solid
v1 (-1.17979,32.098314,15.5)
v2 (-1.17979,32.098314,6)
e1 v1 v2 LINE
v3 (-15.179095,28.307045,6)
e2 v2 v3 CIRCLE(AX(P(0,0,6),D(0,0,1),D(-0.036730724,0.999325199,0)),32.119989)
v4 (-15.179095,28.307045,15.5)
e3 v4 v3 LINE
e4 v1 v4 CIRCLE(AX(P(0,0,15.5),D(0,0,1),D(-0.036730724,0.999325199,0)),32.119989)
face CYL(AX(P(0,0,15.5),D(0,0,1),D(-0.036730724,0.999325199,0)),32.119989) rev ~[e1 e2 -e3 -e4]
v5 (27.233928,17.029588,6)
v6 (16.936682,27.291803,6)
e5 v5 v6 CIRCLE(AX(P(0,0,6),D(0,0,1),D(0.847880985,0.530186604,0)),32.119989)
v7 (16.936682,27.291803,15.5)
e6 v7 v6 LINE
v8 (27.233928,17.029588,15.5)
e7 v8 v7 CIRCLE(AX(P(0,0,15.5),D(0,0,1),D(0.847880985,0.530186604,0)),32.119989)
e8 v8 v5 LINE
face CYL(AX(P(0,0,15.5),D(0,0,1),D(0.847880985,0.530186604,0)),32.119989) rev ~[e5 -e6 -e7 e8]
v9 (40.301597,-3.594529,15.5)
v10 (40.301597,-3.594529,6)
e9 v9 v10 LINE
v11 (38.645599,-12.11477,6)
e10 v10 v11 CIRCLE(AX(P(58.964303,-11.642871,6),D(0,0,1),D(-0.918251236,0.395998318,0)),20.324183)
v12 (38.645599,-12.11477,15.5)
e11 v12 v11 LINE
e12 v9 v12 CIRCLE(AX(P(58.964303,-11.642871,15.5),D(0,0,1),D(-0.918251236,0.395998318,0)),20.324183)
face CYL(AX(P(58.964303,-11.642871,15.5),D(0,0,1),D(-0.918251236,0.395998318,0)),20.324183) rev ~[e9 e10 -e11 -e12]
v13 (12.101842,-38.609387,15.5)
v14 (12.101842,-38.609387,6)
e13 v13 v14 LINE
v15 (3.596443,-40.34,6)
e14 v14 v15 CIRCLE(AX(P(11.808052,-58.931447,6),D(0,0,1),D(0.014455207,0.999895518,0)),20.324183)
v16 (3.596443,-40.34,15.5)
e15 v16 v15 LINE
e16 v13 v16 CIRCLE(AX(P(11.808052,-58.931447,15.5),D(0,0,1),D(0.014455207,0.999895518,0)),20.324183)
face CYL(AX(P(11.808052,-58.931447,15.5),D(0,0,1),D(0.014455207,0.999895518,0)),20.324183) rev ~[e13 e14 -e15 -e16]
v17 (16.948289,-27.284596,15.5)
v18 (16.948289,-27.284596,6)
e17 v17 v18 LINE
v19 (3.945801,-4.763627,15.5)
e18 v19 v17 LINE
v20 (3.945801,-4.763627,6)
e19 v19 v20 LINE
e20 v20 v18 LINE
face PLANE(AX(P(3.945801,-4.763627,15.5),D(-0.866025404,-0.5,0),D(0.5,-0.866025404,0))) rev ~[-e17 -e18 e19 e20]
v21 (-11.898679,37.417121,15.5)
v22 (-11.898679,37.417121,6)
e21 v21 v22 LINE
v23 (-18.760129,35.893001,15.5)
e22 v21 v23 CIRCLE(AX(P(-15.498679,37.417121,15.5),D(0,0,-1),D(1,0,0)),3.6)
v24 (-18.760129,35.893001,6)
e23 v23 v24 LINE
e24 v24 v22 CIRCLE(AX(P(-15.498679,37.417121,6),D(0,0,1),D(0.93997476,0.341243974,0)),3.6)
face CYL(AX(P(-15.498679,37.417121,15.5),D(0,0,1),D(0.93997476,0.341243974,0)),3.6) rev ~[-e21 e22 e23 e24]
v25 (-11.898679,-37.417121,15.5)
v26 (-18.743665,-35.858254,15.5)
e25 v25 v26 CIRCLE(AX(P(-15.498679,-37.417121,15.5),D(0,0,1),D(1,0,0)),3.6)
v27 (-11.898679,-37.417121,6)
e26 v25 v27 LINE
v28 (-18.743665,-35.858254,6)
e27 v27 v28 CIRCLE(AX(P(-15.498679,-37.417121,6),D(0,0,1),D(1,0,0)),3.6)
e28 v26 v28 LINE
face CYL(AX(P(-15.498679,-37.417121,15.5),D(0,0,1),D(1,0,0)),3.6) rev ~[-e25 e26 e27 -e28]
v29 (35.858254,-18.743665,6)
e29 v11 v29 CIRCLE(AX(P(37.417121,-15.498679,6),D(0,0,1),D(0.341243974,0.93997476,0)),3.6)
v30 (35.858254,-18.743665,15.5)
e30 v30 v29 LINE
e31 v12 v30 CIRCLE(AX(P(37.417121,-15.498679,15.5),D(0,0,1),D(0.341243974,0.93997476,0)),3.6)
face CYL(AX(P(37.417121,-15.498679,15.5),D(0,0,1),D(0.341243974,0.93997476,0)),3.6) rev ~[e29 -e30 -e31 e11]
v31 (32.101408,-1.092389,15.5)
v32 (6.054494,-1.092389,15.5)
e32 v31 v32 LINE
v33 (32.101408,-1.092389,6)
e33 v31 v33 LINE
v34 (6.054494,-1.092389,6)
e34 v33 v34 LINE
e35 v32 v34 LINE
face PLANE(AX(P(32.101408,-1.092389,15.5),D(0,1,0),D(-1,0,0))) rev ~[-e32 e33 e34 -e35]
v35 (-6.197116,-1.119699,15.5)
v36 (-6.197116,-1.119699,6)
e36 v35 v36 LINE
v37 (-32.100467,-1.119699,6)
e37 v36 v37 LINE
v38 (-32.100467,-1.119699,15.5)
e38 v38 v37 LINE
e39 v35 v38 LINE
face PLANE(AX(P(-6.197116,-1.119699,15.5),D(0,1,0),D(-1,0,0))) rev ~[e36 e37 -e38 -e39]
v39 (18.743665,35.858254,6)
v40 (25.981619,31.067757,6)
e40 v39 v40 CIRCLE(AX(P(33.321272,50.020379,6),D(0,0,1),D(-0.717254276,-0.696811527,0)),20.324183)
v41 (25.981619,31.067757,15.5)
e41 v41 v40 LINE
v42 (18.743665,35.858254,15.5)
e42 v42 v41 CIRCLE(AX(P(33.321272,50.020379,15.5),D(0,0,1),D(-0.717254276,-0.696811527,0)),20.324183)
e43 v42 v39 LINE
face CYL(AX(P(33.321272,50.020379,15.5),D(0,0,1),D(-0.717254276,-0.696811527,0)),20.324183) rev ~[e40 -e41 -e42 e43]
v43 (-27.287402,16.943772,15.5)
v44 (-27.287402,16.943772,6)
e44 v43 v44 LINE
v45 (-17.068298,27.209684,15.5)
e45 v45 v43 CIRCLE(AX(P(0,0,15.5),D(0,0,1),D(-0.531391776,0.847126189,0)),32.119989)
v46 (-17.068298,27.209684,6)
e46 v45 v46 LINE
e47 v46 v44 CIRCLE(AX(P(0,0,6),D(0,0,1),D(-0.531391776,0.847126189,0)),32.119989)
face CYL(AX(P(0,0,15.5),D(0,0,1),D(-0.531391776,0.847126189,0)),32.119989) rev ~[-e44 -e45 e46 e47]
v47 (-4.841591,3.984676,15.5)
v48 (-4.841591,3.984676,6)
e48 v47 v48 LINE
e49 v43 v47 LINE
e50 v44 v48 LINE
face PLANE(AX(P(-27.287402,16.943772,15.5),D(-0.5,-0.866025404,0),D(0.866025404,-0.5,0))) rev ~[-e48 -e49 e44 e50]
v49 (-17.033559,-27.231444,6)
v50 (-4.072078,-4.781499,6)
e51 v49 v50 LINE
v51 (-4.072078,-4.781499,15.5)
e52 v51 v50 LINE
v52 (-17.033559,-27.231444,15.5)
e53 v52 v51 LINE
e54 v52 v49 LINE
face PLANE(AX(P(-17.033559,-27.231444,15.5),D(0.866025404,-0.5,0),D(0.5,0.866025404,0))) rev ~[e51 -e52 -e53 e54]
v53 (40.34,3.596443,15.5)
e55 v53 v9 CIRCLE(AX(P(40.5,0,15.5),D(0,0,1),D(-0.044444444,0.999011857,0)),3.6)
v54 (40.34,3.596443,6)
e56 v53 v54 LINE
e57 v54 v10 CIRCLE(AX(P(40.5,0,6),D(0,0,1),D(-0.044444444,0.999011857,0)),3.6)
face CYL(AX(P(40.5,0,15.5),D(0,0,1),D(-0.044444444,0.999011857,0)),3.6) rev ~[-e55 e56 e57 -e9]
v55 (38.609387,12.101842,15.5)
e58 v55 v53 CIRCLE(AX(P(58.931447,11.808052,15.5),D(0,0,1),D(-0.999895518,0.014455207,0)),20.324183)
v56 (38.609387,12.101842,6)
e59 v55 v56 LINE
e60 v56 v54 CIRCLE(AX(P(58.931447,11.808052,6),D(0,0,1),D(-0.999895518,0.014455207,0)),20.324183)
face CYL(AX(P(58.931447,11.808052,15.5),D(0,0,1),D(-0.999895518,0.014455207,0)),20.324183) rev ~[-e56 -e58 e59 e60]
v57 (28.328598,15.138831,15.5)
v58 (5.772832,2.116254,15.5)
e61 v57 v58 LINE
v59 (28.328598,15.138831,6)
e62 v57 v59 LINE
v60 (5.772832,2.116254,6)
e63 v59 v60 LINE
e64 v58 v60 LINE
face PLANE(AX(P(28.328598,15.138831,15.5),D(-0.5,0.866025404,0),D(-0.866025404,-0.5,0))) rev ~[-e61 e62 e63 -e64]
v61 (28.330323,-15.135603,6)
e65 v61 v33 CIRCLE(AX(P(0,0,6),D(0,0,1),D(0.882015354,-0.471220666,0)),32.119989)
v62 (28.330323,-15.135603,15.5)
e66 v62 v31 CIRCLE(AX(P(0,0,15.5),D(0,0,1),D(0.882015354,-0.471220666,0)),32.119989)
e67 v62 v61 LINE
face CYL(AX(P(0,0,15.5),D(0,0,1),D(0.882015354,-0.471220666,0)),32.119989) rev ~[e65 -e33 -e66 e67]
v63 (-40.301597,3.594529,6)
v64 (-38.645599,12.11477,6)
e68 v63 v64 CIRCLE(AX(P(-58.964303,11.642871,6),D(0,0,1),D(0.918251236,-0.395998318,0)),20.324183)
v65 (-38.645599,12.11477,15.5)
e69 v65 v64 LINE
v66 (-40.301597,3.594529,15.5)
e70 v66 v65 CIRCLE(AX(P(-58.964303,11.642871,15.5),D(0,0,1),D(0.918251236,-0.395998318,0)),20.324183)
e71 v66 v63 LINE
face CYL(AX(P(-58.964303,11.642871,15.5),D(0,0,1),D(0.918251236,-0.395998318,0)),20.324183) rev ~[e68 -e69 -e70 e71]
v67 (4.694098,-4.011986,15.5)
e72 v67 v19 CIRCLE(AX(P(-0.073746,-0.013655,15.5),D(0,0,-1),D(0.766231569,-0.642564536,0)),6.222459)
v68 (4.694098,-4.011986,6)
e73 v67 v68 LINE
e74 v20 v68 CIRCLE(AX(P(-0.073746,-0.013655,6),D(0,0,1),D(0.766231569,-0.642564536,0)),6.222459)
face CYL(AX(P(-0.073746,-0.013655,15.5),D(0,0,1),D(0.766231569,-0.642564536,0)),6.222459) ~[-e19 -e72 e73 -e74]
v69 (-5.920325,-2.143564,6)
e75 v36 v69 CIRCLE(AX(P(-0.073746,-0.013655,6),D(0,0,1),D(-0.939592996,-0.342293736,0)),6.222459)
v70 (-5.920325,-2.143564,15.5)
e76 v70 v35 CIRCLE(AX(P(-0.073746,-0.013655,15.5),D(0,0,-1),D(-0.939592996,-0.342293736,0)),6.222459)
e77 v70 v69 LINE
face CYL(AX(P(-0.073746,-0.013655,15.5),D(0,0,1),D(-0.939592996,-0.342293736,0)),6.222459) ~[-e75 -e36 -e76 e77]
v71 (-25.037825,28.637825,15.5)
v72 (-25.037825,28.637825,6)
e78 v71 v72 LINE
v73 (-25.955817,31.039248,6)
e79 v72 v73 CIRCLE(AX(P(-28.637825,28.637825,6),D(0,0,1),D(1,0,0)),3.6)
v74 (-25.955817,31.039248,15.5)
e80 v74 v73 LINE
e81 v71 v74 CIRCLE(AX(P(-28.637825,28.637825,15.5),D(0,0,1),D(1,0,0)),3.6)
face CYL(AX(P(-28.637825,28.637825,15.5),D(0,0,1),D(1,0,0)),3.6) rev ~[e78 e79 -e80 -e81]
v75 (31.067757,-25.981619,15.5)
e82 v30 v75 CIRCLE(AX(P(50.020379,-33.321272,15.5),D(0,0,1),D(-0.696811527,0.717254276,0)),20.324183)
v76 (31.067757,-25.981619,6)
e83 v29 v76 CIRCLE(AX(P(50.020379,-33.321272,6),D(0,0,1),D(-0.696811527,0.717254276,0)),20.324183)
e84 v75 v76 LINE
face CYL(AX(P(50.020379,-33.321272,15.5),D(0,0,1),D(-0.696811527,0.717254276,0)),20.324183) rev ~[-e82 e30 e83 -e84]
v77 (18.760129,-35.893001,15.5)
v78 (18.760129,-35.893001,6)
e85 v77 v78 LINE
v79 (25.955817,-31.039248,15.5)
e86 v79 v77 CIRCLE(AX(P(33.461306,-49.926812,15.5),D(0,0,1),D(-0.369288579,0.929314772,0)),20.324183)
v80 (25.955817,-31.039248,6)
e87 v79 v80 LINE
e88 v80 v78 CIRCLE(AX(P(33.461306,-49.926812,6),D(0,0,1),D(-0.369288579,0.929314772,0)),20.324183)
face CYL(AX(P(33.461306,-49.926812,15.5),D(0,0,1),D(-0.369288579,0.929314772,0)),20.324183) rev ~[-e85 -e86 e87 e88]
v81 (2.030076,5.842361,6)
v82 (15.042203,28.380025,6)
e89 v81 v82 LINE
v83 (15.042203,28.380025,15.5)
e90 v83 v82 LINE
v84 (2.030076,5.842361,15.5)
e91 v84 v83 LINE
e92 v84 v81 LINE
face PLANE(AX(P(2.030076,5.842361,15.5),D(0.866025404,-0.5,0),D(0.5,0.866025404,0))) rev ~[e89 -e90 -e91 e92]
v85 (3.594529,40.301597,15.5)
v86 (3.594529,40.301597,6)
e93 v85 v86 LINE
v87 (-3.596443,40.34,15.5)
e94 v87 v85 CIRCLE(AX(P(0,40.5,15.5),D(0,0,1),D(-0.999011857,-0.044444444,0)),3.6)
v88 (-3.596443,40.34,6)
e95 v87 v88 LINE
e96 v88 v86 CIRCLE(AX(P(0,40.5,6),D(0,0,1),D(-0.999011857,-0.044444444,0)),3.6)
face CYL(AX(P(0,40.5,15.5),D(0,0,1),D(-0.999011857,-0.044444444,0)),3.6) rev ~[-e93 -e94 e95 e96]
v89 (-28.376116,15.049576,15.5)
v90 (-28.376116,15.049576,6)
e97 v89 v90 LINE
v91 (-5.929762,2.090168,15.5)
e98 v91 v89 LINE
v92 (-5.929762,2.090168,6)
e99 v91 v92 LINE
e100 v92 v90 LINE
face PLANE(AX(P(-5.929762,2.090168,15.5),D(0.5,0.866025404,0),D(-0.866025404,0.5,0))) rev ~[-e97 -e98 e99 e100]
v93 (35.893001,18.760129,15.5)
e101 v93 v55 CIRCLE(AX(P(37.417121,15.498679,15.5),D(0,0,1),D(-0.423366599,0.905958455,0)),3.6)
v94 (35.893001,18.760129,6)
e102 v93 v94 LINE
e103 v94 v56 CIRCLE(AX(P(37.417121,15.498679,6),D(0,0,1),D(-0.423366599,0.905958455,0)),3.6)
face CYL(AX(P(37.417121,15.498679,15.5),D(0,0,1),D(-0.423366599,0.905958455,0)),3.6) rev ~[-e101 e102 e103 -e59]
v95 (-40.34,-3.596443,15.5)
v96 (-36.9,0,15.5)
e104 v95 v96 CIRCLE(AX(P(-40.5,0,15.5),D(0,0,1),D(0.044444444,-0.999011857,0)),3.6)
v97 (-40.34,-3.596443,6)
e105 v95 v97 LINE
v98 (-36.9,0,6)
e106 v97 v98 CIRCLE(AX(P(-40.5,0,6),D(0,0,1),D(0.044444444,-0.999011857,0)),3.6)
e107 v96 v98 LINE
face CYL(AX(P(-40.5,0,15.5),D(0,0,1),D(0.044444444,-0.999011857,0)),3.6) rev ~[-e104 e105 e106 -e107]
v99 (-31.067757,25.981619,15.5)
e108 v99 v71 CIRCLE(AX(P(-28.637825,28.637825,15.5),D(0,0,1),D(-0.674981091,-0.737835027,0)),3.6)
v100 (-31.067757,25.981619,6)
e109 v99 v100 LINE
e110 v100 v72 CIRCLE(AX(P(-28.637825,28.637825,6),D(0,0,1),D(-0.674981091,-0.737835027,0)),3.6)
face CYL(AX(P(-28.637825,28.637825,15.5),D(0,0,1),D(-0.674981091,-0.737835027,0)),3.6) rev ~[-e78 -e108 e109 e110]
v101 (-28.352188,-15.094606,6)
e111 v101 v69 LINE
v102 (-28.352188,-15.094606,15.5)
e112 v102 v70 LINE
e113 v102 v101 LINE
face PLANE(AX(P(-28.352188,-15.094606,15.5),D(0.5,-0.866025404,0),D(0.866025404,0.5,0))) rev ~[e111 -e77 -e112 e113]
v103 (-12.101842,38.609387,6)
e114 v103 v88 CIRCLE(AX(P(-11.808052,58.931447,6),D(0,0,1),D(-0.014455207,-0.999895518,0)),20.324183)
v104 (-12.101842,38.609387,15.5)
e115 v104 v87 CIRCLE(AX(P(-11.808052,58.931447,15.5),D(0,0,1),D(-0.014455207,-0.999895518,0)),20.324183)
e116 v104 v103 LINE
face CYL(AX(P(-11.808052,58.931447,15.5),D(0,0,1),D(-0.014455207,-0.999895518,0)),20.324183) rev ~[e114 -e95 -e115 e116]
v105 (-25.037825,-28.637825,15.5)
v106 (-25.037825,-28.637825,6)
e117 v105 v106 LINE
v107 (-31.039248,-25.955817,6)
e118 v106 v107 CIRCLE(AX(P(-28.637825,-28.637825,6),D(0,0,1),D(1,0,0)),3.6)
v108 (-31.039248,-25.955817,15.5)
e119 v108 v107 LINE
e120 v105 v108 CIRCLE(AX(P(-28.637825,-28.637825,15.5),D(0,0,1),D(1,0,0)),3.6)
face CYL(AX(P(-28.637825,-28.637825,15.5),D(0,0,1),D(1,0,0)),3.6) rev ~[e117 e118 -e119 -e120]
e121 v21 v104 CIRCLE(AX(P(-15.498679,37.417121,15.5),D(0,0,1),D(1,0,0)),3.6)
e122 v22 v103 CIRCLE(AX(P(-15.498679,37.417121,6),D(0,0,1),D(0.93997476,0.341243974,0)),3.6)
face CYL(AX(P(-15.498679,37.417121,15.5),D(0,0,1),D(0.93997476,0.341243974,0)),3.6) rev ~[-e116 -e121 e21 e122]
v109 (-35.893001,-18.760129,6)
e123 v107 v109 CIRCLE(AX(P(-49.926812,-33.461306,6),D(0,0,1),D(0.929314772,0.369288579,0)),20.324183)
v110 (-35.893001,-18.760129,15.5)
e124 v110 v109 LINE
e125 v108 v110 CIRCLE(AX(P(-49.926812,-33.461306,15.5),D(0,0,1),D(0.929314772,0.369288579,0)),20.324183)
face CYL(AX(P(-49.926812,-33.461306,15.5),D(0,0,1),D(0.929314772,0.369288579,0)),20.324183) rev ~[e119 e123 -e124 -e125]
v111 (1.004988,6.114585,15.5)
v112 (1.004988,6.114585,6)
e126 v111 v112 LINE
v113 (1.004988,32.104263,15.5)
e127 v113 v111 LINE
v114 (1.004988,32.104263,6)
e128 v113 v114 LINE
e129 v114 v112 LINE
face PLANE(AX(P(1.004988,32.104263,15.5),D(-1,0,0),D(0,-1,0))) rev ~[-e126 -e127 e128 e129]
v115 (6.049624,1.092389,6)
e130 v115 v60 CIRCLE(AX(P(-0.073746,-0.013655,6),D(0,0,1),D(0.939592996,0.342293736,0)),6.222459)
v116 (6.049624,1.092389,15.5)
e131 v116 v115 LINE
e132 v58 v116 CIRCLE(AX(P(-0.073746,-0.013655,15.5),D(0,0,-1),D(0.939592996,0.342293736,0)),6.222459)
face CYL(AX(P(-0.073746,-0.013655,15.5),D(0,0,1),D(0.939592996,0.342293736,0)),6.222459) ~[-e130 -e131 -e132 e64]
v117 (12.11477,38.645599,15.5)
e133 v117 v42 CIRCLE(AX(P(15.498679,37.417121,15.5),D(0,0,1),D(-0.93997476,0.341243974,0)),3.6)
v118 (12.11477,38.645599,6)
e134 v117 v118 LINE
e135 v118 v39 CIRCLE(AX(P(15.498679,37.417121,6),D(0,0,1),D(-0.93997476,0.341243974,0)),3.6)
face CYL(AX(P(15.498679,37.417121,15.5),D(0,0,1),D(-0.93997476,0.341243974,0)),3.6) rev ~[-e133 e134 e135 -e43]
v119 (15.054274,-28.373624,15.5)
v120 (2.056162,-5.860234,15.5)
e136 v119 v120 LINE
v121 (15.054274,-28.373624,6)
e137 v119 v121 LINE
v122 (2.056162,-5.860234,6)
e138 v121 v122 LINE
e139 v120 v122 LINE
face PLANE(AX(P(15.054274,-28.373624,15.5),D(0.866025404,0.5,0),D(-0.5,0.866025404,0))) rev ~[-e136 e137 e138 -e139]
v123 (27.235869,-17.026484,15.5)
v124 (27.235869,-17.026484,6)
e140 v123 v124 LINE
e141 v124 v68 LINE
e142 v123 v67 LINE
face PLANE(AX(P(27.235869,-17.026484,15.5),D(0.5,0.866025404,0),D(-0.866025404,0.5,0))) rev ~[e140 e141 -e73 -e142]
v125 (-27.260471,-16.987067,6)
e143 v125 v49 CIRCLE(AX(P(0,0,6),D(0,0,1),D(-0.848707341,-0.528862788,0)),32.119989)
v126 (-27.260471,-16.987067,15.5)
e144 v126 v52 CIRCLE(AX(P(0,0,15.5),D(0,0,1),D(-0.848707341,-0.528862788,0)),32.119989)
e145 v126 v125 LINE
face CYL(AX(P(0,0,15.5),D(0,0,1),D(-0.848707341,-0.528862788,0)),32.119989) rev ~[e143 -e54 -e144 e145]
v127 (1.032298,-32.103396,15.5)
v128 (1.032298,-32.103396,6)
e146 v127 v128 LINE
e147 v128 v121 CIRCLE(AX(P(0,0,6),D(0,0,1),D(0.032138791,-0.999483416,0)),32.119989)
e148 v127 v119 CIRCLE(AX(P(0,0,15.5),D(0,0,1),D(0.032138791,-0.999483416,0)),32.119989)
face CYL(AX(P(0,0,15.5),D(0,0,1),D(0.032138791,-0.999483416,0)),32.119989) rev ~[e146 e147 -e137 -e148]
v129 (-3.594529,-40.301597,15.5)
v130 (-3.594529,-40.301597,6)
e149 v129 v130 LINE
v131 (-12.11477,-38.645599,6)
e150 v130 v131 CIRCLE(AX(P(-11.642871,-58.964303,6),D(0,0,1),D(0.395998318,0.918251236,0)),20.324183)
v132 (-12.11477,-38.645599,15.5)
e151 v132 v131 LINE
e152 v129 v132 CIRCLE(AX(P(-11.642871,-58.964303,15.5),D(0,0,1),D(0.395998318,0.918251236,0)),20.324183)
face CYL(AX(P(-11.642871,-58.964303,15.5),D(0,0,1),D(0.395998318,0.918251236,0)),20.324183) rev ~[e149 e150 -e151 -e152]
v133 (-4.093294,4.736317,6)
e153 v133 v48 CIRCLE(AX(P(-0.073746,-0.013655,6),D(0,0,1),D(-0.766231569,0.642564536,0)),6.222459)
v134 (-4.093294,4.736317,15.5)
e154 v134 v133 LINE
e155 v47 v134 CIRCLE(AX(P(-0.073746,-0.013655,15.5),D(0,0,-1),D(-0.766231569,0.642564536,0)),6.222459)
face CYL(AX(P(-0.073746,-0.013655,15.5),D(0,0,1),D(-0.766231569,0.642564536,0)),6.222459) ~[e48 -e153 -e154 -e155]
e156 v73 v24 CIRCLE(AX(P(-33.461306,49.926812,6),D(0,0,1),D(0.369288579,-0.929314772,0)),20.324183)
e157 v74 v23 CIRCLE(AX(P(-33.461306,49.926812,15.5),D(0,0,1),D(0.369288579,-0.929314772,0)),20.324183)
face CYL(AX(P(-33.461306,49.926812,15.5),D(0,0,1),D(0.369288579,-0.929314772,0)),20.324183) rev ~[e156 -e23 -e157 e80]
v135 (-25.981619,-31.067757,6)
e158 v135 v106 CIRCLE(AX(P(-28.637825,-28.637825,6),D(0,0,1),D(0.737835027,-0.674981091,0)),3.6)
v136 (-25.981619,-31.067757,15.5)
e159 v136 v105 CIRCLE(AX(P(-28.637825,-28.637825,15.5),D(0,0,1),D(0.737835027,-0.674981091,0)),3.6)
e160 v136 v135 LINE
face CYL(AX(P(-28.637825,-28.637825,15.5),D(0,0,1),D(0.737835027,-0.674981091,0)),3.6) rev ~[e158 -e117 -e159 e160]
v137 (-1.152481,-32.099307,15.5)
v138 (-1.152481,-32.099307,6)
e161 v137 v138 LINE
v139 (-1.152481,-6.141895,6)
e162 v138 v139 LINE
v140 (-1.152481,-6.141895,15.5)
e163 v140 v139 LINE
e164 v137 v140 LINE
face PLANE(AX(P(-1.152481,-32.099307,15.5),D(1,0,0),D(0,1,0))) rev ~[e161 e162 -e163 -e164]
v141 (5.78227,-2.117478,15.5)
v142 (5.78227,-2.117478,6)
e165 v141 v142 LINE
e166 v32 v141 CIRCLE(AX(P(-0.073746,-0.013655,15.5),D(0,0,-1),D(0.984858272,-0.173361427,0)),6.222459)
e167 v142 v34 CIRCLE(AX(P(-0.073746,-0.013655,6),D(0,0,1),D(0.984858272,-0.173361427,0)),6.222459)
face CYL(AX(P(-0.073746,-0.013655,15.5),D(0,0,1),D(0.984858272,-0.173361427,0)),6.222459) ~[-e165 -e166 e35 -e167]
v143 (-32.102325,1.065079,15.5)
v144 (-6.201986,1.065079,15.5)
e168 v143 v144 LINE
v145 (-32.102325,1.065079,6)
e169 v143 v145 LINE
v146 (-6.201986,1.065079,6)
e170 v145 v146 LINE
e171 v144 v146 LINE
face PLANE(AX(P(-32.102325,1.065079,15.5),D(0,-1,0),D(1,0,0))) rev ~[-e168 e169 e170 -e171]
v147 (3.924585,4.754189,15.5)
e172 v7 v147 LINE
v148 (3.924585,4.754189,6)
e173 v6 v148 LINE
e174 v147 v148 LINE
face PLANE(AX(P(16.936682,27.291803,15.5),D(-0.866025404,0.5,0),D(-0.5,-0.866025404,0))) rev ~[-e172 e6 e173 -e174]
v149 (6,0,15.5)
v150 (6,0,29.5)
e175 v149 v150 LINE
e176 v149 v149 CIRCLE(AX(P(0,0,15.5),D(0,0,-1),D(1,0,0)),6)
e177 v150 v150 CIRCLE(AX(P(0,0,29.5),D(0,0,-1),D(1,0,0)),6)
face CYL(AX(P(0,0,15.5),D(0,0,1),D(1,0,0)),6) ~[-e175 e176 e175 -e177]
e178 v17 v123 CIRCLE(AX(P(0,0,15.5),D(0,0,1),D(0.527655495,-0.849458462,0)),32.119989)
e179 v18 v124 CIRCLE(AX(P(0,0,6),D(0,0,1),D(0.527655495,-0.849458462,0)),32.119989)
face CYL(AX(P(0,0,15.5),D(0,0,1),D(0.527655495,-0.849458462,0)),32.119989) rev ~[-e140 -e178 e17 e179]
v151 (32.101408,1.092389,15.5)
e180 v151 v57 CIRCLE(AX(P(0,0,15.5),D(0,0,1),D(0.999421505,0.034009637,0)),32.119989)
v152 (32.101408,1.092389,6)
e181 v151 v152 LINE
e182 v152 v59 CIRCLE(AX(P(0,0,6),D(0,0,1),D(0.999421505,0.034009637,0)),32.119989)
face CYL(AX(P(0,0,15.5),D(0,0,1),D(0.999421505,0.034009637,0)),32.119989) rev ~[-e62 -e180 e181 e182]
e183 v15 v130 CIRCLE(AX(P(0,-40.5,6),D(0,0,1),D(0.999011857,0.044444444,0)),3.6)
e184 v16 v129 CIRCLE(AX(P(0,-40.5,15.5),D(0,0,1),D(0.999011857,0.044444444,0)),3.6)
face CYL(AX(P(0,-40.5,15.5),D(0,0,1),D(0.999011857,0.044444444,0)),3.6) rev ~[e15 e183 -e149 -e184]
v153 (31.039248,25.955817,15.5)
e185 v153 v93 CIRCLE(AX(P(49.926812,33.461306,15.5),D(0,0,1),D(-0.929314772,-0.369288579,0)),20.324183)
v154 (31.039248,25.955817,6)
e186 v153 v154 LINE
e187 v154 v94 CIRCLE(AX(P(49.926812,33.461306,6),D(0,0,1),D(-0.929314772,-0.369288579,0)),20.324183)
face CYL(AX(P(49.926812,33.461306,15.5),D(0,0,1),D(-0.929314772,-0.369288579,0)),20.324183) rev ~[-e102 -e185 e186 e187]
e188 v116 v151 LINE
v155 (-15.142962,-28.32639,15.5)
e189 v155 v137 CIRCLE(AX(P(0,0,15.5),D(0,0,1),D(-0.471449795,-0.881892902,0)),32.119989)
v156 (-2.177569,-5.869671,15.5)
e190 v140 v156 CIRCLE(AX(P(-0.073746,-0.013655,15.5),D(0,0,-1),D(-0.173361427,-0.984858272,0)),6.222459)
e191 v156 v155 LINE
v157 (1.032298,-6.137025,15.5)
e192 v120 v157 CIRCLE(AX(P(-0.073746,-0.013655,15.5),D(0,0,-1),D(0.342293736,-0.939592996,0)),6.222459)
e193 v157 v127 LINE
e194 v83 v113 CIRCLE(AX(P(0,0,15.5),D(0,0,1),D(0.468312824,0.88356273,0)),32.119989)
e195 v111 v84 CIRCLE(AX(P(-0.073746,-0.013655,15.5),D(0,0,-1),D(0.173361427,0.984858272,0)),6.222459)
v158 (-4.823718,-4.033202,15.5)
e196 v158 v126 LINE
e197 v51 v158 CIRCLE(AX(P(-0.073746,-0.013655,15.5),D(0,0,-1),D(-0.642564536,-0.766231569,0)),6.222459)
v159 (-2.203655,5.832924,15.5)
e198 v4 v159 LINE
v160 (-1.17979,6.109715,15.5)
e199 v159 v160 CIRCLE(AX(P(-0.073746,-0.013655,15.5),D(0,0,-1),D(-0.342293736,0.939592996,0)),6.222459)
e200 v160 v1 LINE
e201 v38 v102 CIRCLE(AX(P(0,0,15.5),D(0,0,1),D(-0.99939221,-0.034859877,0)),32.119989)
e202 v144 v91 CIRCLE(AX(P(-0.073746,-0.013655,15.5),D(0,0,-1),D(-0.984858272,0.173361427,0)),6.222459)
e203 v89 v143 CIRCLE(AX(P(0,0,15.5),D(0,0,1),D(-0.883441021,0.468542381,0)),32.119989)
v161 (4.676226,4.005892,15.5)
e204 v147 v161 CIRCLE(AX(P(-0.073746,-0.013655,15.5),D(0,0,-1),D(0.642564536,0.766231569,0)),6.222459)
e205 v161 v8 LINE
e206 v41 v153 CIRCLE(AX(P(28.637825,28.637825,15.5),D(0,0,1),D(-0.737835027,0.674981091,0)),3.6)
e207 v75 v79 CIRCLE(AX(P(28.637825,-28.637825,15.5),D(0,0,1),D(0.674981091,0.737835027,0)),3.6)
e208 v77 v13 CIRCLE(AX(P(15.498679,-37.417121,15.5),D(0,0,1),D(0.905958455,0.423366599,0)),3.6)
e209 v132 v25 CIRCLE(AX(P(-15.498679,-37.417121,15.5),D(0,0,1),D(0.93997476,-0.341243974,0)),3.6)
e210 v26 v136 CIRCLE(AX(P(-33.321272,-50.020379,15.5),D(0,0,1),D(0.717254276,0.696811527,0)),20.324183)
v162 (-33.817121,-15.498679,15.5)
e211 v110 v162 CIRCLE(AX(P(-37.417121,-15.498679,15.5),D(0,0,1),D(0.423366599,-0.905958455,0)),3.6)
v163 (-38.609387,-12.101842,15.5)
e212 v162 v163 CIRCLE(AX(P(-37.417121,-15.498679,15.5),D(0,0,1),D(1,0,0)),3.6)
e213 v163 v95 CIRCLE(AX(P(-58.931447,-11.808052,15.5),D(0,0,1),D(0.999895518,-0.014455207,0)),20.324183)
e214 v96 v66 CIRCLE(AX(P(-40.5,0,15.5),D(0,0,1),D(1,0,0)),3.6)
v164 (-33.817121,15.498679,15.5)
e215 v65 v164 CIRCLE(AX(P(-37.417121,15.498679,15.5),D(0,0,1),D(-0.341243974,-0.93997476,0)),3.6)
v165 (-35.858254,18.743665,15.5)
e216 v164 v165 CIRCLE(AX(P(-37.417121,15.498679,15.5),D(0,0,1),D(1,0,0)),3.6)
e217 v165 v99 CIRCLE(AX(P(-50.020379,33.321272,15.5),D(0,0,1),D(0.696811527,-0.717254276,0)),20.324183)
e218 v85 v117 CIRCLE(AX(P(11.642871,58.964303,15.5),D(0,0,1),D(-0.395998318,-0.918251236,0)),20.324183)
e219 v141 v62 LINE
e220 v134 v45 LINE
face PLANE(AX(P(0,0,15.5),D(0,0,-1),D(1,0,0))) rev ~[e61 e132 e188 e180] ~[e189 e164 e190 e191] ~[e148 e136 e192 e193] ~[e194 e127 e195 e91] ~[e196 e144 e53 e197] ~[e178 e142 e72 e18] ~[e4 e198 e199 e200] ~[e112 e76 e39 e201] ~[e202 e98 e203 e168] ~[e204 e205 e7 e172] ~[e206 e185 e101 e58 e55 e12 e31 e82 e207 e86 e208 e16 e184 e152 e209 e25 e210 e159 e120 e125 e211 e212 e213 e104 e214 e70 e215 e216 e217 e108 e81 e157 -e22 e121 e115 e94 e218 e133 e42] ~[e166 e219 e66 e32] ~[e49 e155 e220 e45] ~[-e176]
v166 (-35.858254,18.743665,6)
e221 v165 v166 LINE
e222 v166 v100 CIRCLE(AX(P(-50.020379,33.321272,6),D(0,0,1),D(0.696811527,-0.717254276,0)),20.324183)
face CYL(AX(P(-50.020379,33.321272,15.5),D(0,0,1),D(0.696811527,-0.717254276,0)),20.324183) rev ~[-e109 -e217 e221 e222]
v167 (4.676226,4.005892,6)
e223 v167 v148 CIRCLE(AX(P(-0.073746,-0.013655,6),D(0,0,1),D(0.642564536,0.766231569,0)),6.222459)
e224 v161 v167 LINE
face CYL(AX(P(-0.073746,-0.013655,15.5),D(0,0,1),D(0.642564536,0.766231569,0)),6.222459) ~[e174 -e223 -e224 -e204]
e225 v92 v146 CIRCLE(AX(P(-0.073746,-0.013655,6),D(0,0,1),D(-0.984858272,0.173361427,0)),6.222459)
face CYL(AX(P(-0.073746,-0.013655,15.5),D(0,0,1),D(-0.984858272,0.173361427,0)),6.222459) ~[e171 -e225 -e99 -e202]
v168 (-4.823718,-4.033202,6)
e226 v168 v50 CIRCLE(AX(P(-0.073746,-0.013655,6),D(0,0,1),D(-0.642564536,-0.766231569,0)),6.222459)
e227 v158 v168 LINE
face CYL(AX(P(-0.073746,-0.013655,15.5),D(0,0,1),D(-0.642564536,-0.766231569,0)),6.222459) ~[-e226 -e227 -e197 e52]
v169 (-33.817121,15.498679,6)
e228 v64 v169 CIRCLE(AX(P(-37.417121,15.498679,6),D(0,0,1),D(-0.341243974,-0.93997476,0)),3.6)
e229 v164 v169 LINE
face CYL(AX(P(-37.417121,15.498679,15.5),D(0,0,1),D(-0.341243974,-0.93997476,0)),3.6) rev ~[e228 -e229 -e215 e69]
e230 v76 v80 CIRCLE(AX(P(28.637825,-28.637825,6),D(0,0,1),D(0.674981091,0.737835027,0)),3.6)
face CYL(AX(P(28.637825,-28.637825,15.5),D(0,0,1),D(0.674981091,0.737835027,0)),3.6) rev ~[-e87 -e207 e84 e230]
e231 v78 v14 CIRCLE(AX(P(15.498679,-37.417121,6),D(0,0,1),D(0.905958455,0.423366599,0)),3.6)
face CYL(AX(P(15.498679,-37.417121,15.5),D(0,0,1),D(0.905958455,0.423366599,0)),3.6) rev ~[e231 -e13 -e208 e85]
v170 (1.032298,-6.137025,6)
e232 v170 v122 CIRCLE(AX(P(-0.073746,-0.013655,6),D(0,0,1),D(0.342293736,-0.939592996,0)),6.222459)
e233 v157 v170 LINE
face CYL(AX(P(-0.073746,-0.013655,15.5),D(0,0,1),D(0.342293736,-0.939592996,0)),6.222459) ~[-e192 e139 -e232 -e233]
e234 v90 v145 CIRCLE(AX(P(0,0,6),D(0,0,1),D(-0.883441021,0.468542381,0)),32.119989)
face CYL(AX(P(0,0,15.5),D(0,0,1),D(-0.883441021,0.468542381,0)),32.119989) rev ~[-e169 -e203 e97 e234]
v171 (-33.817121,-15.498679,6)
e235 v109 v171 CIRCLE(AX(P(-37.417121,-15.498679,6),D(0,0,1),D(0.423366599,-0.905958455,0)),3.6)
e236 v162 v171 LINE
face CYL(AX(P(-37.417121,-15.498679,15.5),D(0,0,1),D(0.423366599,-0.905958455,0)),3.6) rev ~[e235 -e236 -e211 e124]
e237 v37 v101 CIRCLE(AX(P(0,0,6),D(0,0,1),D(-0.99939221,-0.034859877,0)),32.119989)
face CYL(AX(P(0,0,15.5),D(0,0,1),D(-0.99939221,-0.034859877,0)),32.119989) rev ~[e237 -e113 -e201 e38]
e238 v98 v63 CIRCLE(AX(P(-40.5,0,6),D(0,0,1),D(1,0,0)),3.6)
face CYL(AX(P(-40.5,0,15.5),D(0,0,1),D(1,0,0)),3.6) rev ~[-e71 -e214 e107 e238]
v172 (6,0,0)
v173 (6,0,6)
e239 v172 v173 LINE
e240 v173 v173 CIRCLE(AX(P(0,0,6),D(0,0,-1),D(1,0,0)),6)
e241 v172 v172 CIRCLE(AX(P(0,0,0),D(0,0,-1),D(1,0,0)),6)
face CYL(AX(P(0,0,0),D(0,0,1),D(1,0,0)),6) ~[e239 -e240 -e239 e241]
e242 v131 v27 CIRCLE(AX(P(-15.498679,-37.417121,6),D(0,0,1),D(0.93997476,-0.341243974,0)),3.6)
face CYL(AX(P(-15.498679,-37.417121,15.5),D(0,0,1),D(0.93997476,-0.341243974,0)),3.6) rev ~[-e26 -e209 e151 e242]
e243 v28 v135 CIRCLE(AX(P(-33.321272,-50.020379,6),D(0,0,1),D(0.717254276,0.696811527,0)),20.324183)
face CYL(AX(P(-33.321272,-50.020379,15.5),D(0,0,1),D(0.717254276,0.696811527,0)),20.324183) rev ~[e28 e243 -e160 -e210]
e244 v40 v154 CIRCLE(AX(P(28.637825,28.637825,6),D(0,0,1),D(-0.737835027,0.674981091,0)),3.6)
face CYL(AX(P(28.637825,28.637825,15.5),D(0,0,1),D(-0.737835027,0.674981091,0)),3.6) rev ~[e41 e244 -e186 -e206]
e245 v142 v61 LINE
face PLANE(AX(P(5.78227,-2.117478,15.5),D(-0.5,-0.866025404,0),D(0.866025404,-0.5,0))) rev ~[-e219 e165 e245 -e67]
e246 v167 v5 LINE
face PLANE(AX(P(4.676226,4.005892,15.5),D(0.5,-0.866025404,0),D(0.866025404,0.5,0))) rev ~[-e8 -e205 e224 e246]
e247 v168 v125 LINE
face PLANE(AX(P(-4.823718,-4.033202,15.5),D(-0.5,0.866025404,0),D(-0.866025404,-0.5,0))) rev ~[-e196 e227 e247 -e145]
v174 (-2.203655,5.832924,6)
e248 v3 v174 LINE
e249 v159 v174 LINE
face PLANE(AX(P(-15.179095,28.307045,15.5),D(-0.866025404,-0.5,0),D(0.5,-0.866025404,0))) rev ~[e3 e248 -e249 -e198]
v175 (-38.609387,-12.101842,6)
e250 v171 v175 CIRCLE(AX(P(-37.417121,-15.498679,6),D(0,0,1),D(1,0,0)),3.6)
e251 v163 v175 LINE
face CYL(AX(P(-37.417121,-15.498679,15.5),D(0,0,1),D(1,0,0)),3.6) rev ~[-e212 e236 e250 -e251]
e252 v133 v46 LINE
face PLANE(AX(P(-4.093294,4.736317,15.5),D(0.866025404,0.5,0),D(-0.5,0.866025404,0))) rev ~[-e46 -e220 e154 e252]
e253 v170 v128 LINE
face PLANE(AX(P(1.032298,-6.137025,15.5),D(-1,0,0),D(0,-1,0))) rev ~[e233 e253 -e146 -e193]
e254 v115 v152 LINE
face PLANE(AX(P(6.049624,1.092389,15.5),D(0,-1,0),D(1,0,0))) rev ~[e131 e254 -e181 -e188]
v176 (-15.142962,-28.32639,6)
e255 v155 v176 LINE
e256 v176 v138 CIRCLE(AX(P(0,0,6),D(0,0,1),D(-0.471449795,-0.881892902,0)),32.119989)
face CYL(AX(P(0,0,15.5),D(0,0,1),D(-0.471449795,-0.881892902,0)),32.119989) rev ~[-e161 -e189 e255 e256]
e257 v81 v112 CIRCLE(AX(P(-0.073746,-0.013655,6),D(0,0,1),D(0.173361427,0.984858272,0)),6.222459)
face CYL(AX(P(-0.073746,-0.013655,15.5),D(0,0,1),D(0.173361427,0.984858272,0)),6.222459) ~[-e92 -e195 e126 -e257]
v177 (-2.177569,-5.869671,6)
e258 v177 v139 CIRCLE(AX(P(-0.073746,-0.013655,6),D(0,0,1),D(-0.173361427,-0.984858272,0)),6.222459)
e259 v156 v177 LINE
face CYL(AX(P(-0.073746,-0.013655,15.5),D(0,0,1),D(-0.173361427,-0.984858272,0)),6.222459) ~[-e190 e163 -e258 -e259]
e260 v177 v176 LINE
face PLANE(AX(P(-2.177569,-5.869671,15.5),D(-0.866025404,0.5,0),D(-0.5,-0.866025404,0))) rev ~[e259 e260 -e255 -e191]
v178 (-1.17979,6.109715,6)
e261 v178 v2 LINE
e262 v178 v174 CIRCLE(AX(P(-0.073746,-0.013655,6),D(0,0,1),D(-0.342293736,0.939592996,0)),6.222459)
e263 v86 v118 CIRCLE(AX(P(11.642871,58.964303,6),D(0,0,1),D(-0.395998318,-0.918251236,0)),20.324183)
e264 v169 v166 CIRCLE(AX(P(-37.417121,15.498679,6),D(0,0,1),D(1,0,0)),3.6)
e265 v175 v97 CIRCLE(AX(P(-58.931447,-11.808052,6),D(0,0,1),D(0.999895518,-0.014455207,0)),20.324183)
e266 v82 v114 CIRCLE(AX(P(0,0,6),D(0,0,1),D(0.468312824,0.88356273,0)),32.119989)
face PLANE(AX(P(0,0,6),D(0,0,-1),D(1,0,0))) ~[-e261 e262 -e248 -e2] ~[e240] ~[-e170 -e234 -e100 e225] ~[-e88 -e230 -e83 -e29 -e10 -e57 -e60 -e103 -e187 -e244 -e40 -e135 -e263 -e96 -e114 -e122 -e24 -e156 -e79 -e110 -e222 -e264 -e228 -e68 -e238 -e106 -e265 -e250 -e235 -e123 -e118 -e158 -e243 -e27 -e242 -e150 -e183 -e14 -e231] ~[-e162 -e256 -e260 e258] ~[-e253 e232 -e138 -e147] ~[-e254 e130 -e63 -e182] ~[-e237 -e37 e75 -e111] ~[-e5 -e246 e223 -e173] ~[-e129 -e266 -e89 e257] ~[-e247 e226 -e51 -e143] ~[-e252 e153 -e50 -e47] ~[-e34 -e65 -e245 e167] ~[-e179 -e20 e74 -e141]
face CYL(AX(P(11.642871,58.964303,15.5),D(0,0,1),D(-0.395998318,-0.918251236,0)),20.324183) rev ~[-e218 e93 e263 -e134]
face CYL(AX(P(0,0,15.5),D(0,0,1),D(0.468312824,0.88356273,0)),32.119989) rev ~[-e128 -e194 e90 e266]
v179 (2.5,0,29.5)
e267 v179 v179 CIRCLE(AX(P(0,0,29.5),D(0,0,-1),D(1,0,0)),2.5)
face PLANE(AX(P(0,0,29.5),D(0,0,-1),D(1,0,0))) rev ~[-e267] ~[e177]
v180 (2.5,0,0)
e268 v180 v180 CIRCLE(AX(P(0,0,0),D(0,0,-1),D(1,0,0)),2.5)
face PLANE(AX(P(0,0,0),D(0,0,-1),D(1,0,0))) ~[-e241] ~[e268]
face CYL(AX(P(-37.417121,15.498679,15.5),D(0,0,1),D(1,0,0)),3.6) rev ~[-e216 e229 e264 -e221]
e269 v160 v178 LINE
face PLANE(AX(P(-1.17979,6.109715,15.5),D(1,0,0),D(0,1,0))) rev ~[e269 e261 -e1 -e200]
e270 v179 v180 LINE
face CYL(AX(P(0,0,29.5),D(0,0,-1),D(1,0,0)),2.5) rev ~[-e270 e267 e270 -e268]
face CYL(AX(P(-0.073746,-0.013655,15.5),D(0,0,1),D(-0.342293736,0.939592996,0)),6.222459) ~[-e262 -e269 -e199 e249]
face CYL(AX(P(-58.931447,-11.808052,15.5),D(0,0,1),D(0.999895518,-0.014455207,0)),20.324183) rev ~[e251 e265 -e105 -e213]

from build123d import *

# Parameters (mm, degrees)
F3_DEPTH = 15.501
F5_DEPTH = 25


with BuildPart() as f1:
    # F0 (on Front) → F1 (revolve)
    with BuildSketch(Plane.XZ):
        Polygon((6, 29.5), (2.5, 29.5), (2.5, 0), (6, 0), (6, 6), (40.5, 6), (40.5, 15.5), (6, 15.5), align=None)
    revolve(axis=Axis((0, 0, 0.1838468015), (0, 0, -1)))

    # F2 (on face) → F3 (cut, through all)
    with BuildSketch(Plane.XY.offset(15.5)):
        with BuildLine():
            ThreePointArc((40.5, 0), (40.4599802274, 1.8), (40.34, 3.5964426869))
            ThreePointArc((40.34, 3.5964426869), (36.9000513354, 0.0192253002), (40.3015970682, -3.5945286585))
            ThreePointArc((40.3015970682, -3.5945286585), (40.3207959787, -3.5955369444), (40.34, -3.5964426869))
            ThreePointArc((40.34, -3.5964426869), (40.4599802274, -1.8), (40.5, 0))
        make_face()
        with BuildLine():
            ThreePointArc((35.8930013098, 18.7601294499), (37.4171210667, 15.4986790108), (38.6455993732, 12.1147698734))
            ThreePointArc((38.6455993732, 12.1147698734), (40.3652155278, 13.43258631), (41.0171210667, 15.4986790108))
            ThreePointArc((41.0171210667, 15.4986790108), (39.3501457529, 18.5356866766), (35.8930013098, 18.7601294499))
        make_face()
        with BuildLine():
            ThreePointArc((25.981618541, 31.0677565651), (28.6378246381, 28.6378246381), (31.0677565651, 25.981618541))
            ThreePointArc((31.0677565651, 25.981618541), (31.9323469811, 27.1865760269), (32.2378246381, 28.6378246381))
            ThreePointArc((32.2378246381, 28.6378246381), (29.9412159935, 31.9935914617), (25.981618541, 31.0677565651))
        make_face()
        with BuildLine():
            ThreePointArc((12.1147698734, 38.6455993732), (15.4986790108, 37.4171210667), (18.7601294499, 35.8930013098))
            ThreePointArc((18.7601294499, 35.8930013098), (19.0130225897, 36.6364872155), (19.0986790108, 37.4171210667))
            ThreePointArc((19.0986790108, 37.4171210667), (16.1223484365, 40.962686811), (12.1147698734, 38.6455993732))
        make_face()
        with BuildLine():
            ThreePointArc((-3.5964426869, 40.34), (0, 40.5), (3.5964426869, 40.34))
            ThreePointArc((3.5964426869, 40.34), (3.5991105618, 40.4199802298), (3.6, 40.5))
            ThreePointArc((3.6, 40.5), (-0.0800197702, 44.0991105618), (-3.5964426869, 40.34))
        make_face()
        with BuildLine():
            ThreePointArc((-18.7601294499, 35.8930013098), (-15.4986790108, 37.4171210667), (-12.1147698734, 38.6455993732))
            ThreePointArc((-12.1147698734, 38.6455993732), (-16.8763393673, 40.7430873837), (-18.7601294499, 35.8930013098))
        make_face()
        with BuildLine():
            ThreePointArc((-31.0677565651, 25.981618541), (-28.6378246381, 28.6378246381), (-25.981618541, 31.0677565651))
            ThreePointArc((-25.981618541, 31.0677565651), (-31.1834090503, 31.1834090503), (-31.0677565651, 25.981618541))
        make_face()
        with BuildLine():
            ThreePointArc((-38.6455993732, 12.1147698734), (-37.4171210667, 15.4986790108), (-35.8930013098, 18.7601294499))
            ThreePointArc((-35.8930013098, 18.7601294499), (-40.7430873837, 16.8763393673), (-38.6455993732, 12.1147698734))
        make_face()
        with BuildLine():
            ThreePointArc((-40.34, -3.5964426869), (-40.5, 0), (-40.34, 3.5964426869))
            ThreePointArc((-40.34, 3.5964426869), (-44.1, 0), (-40.34, -3.5964426869))
        make_face()
        with BuildLine():
            ThreePointArc((-38.6455993732, -12.1147698734), (-40.7430873837, -16.8763393673), (-35.8930013098, -18.7601294499))
            ThreePointArc((-35.8930013098, -18.7601294499), (-37.4171210667, -15.4986790108), (-38.6455993732, -12.1147698734))
        make_face()
        with BuildLine():
            ThreePointArc((-31.0677565651, -25.981618541), (-31.1834090503, -31.1834090503), (-25.981618541, -31.0677565651))
            ThreePointArc((-25.981618541, -31.0677565651), (-28.6378246381, -28.6378246381), (-31.0677565651, -25.981618541))
        make_face()
        with BuildLine():
            ThreePointArc((-18.7601294499, -35.8930013098), (-16.8763393673, -40.7430873837), (-12.1147698734, -38.6455993732))
            ThreePointArc((-12.1147698734, -38.6455993732), (-15.4986790108, -37.4171210667), (-18.7601294499, -35.8930013098))
        make_face()
        with BuildLine():
            ThreePointArc((3.6, -40.5), (3.5991105618, -40.4199802298), (3.5964426869, -40.34))
            ThreePointArc((3.5964426869, -40.34), (0, -40.5), (-3.5964426869, -40.34))
            ThreePointArc((-3.5964426869, -40.34), (-0.0800197702, -44.0991105618), (3.6, -40.5))
        make_face()
        with BuildLine():
            ThreePointArc((19.0986790108, -37.4171210667), (19.0130225897, -36.6364872155), (18.7601294499, -35.8930013098))
            ThreePointArc((18.7601294499, -35.8930013098), (15.4986790108, -37.4171210667), (12.1147698734, -38.6455993732))
            ThreePointArc((12.1147698734, -38.6455993732), (16.1223484365, -40.962686811), (19.0986790108, -37.4171210667))
        make_face()
        with BuildLine():
            ThreePointArc((32.2378246381, -28.6378246381), (31.9323469811, -27.1865760269), (31.0677565651, -25.981618541))
            ThreePointArc((31.0677565651, -25.981618541), (28.6378246381, -28.6378246381), (25.981618541, -31.0677565651))
            ThreePointArc((25.981618541, -31.0677565651), (29.9412159935, -31.9935914617), (32.2378246381, -28.6378246381))
        make_face()
        with BuildLine():
            ThreePointArc((41.0171210667, -15.4986790108), (40.3652155278, -13.43258631), (38.6455993732, -12.1147698734))
            ThreePointArc((38.6455993732, -12.1147698734), (37.4171210667, -15.4986790108), (35.8930013098, -18.7601294499))
            ThreePointArc((35.8930013098, -18.7601294499), (39.3501457529, -18.5356866766), (41.0171210667, -15.4986790108))
        make_face()
        with BuildLine():
            ThreePointArc((35.8930013098, 18.7601294499), (34.0838449735, 14.1388001609), (38.6093872236, 12.1018420393))
            ThreePointArc((38.6093872236, 12.1018420393), (38.6275105584, 12.1082576095), (38.6455993732, 12.1147698734))
            ThreePointArc((38.6455993732, 12.1147698734), (37.4171210667, 15.4986790108), (35.8930013098, 18.7601294499))
        make_face()
        with BuildLine():
            ThreePointArc((25.981618541, 31.0677565651), (26.0786821852, 26.1058708656), (31.0392481691, 25.95581699))
            ThreePointArc((31.0392481691, 25.95581699), (31.0535368148, 25.9686797039), (31.0677565651, 25.981618541))
            ThreePointArc((31.0677565651, 25.981618541), (28.6378246381, 28.6378246381), (25.981618541, 31.0677565651))
        make_face()
        with BuildLine():
            ThreePointArc((12.1147698734, 38.6455993732), (14.1032764381, 34.0985593813), (18.7436649524, 35.8582540941))
            ThreePointArc((18.7436649524, 35.8582540941), (18.7519435922, 35.8756057202), (18.7601294499, 35.8930013098))
            ThreePointArc((18.7601294499, 35.8930013098), (15.4986790108, 37.4171210667), (12.1147698734, 38.6455993732))
        make_face()
        with BuildLine():
            ThreePointArc((-3.5964426869, 40.34), (-0.0192253002, 36.9000513354), (3.5945286585, 40.3015970682))
            ThreePointArc((3.5945286585, 40.3015970682), (3.5955369444, 40.3207959787), (3.5964426869, 40.34))
            ThreePointArc((3.5964426869, 40.34), (0, 40.5), (-3.5964426869, 40.34))
        make_face()
        with BuildLine():
            ThreePointArc((-11.8986790108, 37.4171210667), (-11.9498332056, 38.0218469974), (-12.1018420393, 38.6093872236))
            ThreePointArc((-12.1018420393, 38.6093872236), (-12.1082576095, 38.6275105584), (-12.1147698734, 38.6455993732))
            ThreePointArc((-12.1147698734, 38.6455993732), (-15.4986790108, 37.4171210667), (-18.7601294499, 35.8930013098))
            ThreePointArc((-18.7601294499, 35.8930013098), (-14.7180451596, 33.9027774878), (-11.8986790108, 37.4171210667))
        make_face()
        with BuildLine():
            ThreePointArc((-25.0378246381, 28.6378246381), (-25.2751450865, 29.9232764005), (-25.95581699, 31.0392481691))
            ThreePointArc((-25.95581699, 31.0392481691), (-25.9686797039, 31.0535368148), (-25.981618541, 31.0677565651))
            ThreePointArc((-25.981618541, 31.0677565651), (-28.6378246381, 28.6378246381), (-31.0677565651, 25.981618541))
            ThreePointArc((-31.0677565651, 25.981618541), (-27.1865760269, 25.343302295), (-25.0378246381, 28.6378246381))
        make_face()
        with BuildLine():
            ThreePointArc((-33.8171210667, 15.4986790108), (-34.3698336581, 17.4154574146), (-35.8582540941, 18.7436649524))
            ThreePointArc((-35.8582540941, 18.7436649524), (-35.8756057202, 18.7519435922), (-35.8930013098, 18.7601294499))
            ThreePointArc((-35.8930013098, 18.7601294499), (-37.4171210667, 15.4986790108), (-38.6455993732, 12.1147698734))
            ThreePointArc((-38.6455993732, 12.1147698734), (-35.3510283659, 12.5505845497), (-33.8171210667, 15.4986790108))
        make_face()
        with BuildLine():
            ThreePointArc((-36.9, 0), (-37.8852102805, 2.4744443261), (-40.3015970682, 3.5945286585))
            ThreePointArc((-40.3015970682, 3.5945286585), (-40.3207959787, 3.5955369444), (-40.34, 3.5964426869))
            ThreePointArc((-40.34, 3.5964426869), (-40.5, 0), (-40.34, -3.5964426869))
            ThreePointArc((-40.34, -3.5964426869), (-37.8984619934, -2.4883729624), (-36.9, 0))
        make_face()
        with BuildLine():
            ThreePointArc((-38.6455993732, -12.1147698734), (-37.4171210667, -15.4986790108), (-35.8930013098, -18.7601294499))
            ThreePointArc((-35.8930013098, -18.7601294499), (-34.3801134009, -17.431703697), (-33.8171210667, -15.4986790108))
            ThreePointArc((-33.8171210667, -15.4986790108), (-35.3353139388, -12.5616602702), (-38.6093872236, -12.1018420393))
            ThreePointArc((-38.6093872236, -12.1018420393), (-38.6275105584, -12.1082576095), (-38.6455993732, -12.1147698734))
        make_face()
        with BuildLine():
            ThreePointArc((-31.0677565651, -25.981618541), (-28.6378246381, -28.6378246381), (-25.981618541, -31.0677565651))
            ThreePointArc((-25.981618541, -31.0677565651), (-25.2820578144, -29.9412159935), (-25.0378246381, -28.6378246381))
            ThreePointArc((-25.0378246381, -28.6378246381), (-27.1690027823, -25.3510994661), (-31.0392481691, -25.95581699))
            ThreePointArc((-31.0392481691, -25.95581699), (-31.0535368148, -25.9686797039), (-31.0677565651, -25.981618541))
        make_face()
        with BuildLine():
            ThreePointArc((-18.7601294499, -35.8930013098), (-15.4986790108, -37.4171210667), (-12.1147698734, -38.6455993732))
            ThreePointArc((-12.1147698734, -38.6455993732), (-11.9531132665, -38.0407904925), (-11.8986790108, -37.4171210667))
            ThreePointArc((-11.8986790108, -37.4171210667), (-14.6992884273, -33.9069964685), (-18.7436649524, -35.8582540941))
            ThreePointArc((-18.7436649524, -35.8582540941), (-18.7519435922, -35.8756057202), (-18.7601294499, -35.8930013098))
        make_face()
        with BuildLine():
            ThreePointArc((-3.5964426869, -40.34), (0, -40.5), (3.5964426869, -40.34))
            ThreePointArc((3.5964426869, -40.34), (0.0192253002, -36.9000513354), (-3.5945286585, -40.3015970682))
            ThreePointArc((-3.5945286585, -40.3015970682), (-3.5955369444, -40.3207959787), (-3.5964426869, -40.34))
        make_face()
        with BuildLine():
            ThreePointArc((12.1147698734, -38.6455993732), (15.4986790108, -37.4171210667), (18.7601294499, -35.8930013098))
            ThreePointArc((18.7601294499, -35.8930013098), (14.1388001609, -34.0838449735), (12.1018420393, -38.6093872236))
            ThreePointArc((12.1018420393, -38.6093872236), (12.1082576095, -38.6275105584), (12.1147698734, -38.6455993732))
        make_face()
        with BuildLine():
            ThreePointArc((25.981618541, -31.0677565651), (28.6378246381, -28.6378246381), (31.0677565651, -25.981618541))
            ThreePointArc((31.0677565651, -25.981618541), (26.1058708656, -26.0786821852), (25.95581699, -31.0392481691))
            ThreePointArc((25.95581699, -31.0392481691), (25.9686797039, -31.0535368148), (25.981618541, -31.0677565651))
        make_face()
        with BuildLine():
            ThreePointArc((35.8930013098, -18.7601294499), (37.4171210667, -15.4986790108), (38.6455993732, -12.1147698734))
            ThreePointArc((38.6455993732, -12.1147698734), (34.0985593813, -14.1032764381), (35.8582540941, -18.7436649524))
            ThreePointArc((35.8582540941, -18.7436649524), (35.8756057202, -18.7519435922), (35.8930013098, -18.7601294499))
        make_face()
        with BuildLine():
            ThreePointArc((38.6093872236, 12.1018420393), (39.0153553356, 7.7556797687), (40.34, 3.5964426869))
            ThreePointArc((40.34, 3.5964426869), (39.7218038563, 7.9011580417), (38.6455993732, 12.1147698734))
            ThreePointArc((38.6455993732, 12.1147698734), (38.6275105584, 12.1082576095), (38.6093872236, 12.1018420393))
        make_face()
        with BuildLine():
            ThreePointArc((31.0392481691, 25.95581699), (33.077518094, 22.0958438938), (35.8930013098, 18.7601294499))
            ThreePointArc((35.8930013098, 18.7601294499), (33.6745192983, 22.5005944373), (31.0677565651, 25.981618541))
            ThreePointArc((31.0677565651, 25.981618541), (31.0535368148, 25.9686797039), (31.0392481691, 25.95581699))
        make_face()
        with BuildLine():
            ThreePointArc((25.981618541, -31.0677565651), (25.9686797039, -31.0535368148), (25.95581699, -31.0392481691))
            ThreePointArc((25.95581699, -31.0392481691), (22.0958438938, -33.077518094), (18.7601294499, -35.8930013098))
            ThreePointArc((18.7601294499, -35.8930013098), (22.5005944373, -33.6745192983), (25.981618541, -31.0677565651))
        make_face()
        with BuildLine():
            ThreePointArc((18.7436649524, 35.8582540941), (22.1039285711, 33.0721160854), (25.981618541, 31.0677565651))
            ThreePointArc((25.981618541, 31.0677565651), (22.5005944373, 33.6745192983), (18.7601294499, 35.8930013098))
            ThreePointArc((18.7601294499, 35.8930013098), (18.7519435922, 35.8756057202), (18.7436649524, 35.8582540941))
        make_face()
        with BuildLine():
            ThreePointArc((35.8930013098, -18.7601294499), (35.8756057202, -18.7519435922), (35.8582540941, -18.7436649524))
            ThreePointArc((35.8582540941, -18.7436649524), (33.0721160854, -22.1039285711), (31.0677565651, -25.981618541))
            ThreePointArc((31.0677565651, -25.981618541), (33.6745192983, -22.5005944373), (35.8930013098, -18.7601294499))
        make_face()
        with BuildLine():
            ThreePointArc((38.6455993732, -12.1147698734), (39.7218038563, -7.9011580417), (40.34, -3.5964426869))
            ThreePointArc((40.34, -3.5964426869), (40.3207959787, -3.5955369444), (40.3015970682, -3.5945286585))
            ThreePointArc((40.3015970682, -3.5945286585), (39.0134584025, -7.7652162958), (38.6455993732, -12.1147698734))
        make_face()
        with BuildLine():
            ThreePointArc((-40.3015970682, 3.5945286585), (-39.0134584025, 7.7652162958), (-38.6455993732, 12.1147698734))
            ThreePointArc((-38.6455993732, 12.1147698734), (-39.7218038563, 7.9011580417), (-40.34, 3.5964426869))
            ThreePointArc((-40.34, 3.5964426869), (-40.3207959787, 3.5955369444), (-40.3015970682, 3.5945286585))
        make_face()
        with BuildLine():
            ThreePointArc((-40.34, -3.5964426869), (-39.7218038563, -7.9011580417), (-38.6455993732, -12.1147698734))
            ThreePointArc((-38.6455993732, -12.1147698734), (-38.6275105584, -12.1082576095), (-38.6093872236, -12.1018420393))
            ThreePointArc((-38.6093872236, -12.1018420393), (-39.0153553356, -7.7556797687), (-40.34, -3.5964426869))
        make_face()
        with BuildLine():
            ThreePointArc((-35.8930013098, -18.7601294499), (-33.6745192983, -22.5005944373), (-31.0677565651, -25.981618541))
            ThreePointArc((-31.0677565651, -25.981618541), (-31.0535368148, -25.9686797039), (-31.0392481691, -25.95581699))
            ThreePointArc((-31.0392481691, -25.95581699), (-33.077518094, -22.0958438938), (-35.8930013098, -18.7601294499))
        make_face()
        with BuildLine():
            ThreePointArc((-35.8582540941, 18.7436649524), (-33.0721160854, 22.1039285711), (-31.0677565651, 25.981618541))
            ThreePointArc((-31.0677565651, 25.981618541), (-33.6745192983, 22.5005944373), (-35.8930013098, 18.7601294499))
            ThreePointArc((-35.8930013098, 18.7601294499), (-35.8756057202, 18.7519435922), (-35.8582540941, 18.7436649524))
        make_face()
        with BuildLine():
            ThreePointArc((-25.981618541, -31.0677565651), (-22.5005944373, -33.6745192983), (-18.7601294499, -35.8930013098))
            ThreePointArc((-18.7601294499, -35.8930013098), (-18.7519435922, -35.8756057202), (-18.7436649524, -35.8582540941))
            ThreePointArc((-18.7436649524, -35.8582540941), (-22.1039285711, -33.0721160854), (-25.981618541, -31.0677565651))
        make_face()
        with BuildLine():
            ThreePointArc((-25.95581699, 31.0392481691), (-22.0958438938, 33.077518094), (-18.7601294499, 35.8930013098))
            ThreePointArc((-18.7601294499, 35.8930013098), (-22.5005944373, 33.6745192983), (-25.981618541, 31.0677565651))
            ThreePointArc((-25.981618541, 31.0677565651), (-25.9686797039, 31.0535368148), (-25.95581699, 31.0392481691))
        make_face()
        with BuildLine():
            ThreePointArc((-12.1018420393, 38.6093872236), (-7.7556797687, 39.0153553356), (-3.5964426869, 40.34))
            ThreePointArc((-3.5964426869, 40.34), (-7.9011580417, 39.7218038563), (-12.1147698734, 38.6455993732))
            ThreePointArc((-12.1147698734, 38.6455993732), (-12.1082576095, 38.6275105584), (-12.1018420393, 38.6093872236))
        make_face()
        with BuildLine():
            ThreePointArc((-3.5964426869, -40.34), (-3.5955369444, -40.3207959787), (-3.5945286585, -40.3015970682))
            ThreePointArc((-3.5945286585, -40.3015970682), (-7.7652162958, -39.0134584025), (-12.1147698734, -38.6455993732))
            ThreePointArc((-12.1147698734, -38.6455993732), (-7.9011580417, -39.7218038563), (-3.5964426869, -40.34))
        make_face()
        with BuildLine():
            ThreePointArc((12.1147698734, -38.6455993732), (12.1082576095, -38.6275105584), (12.1018420393, -38.6093872236))
            ThreePointArc((12.1018420393, -38.6093872236), (7.7556797687, -39.0153553356), (3.5964426869, -40.34))
            ThreePointArc((3.5964426869, -40.34), (7.9011580417, -39.7218038563), (12.1147698734, -38.6455993732))
        make_face()
        with BuildLine():
            ThreePointArc((3.5945286585, 40.3015970682), (7.7652162958, 39.0134584025), (12.1147698734, 38.6455993732))
            ThreePointArc((12.1147698734, 38.6455993732), (7.9011580417, 39.7218038563), (3.5964426869, 40.34))
            ThreePointArc((3.5964426869, 40.34), (3.5955369444, 40.3207959787), (3.5945286585, 40.3015970682))
        make_face()
    extrude(amount=-F3_DEPTH, mode=Mode.SUBTRACT)

    # F4 (on face) → F5 (cut)
    with BuildSketch(Plane.XY.offset(15.5)):
        with BuildLine():
            ThreePointArc((16.9482887205, -27.284596489), (22.6796641072, -22.7448133012), (27.235868817, -17.0264836624))
            Line((27.235868817, -17.0264836624), (4.6940979177, -4.0119861658))
            ThreePointArc((4.6940979177, -4.0119861658), (4.335993191, -4.4037789366), (3.9458007869, -4.7636267633))
            Line((3.9458007869, -4.7636267633), (16.9482887205, -27.284596489))
        make_face()
        with BuildLine():
            ThreePointArc((1.0322976176, -32.1033963585), (8.2566487659, -31.0406418632), (15.0542741663, -28.3736237631))
            Line((15.0542741663, -28.3736237631), (2.0561622412, -5.8602335064))
            ThreePointArc((2.0561622412, -5.8602335064), (1.5501380653, -6.0204836356), (1.0322976176, -6.137024793))
            Line((1.0322976176, -6.137024793), (1.0322976176, -32.1033963585))
        make_face()
        with BuildLine():
            ThreePointArc((-15.1429622421, -28.326390357), (-8.3632583202, -31.0120880689), (-1.1524807385, -32.0993066011))
            Line((-1.1524807385, -32.0993066011), (-1.1524807385, -6.1418948176))
            ThreePointArc((-1.1524807385, -6.1418948176), (-1.6708355944, -6.0276634125), (-2.1775691559, -5.8696707915))
            Line((-2.1775691559, -5.8696707915), (-15.1429622421, -28.326390357))
        make_face()
        with BuildLine():
            ThreePointArc((-27.2604705062, -16.98706696), (-22.7316318961, -22.6928756984), (-17.033559471, -27.2314441018))
            Line((-17.033559471, -27.2314441018), (-4.0720777262, -4.7814991785))
            ThreePointArc((-4.0720777262, -4.7814991785), (-4.4638704971, -4.4233944518), (-4.8237183238, -4.0332020477))
            Line((-4.8237183238, -4.0332020477), (-27.2604705062, -16.98706696))
        make_face()
        with BuildLine():
            ThreePointArc((-32.1004668275, -1.1196988784), (-31.0234649839, -8.3209564665), (-28.3521881803, -15.094605709))
            Line((-28.3521881803, -15.094605709), (-5.9203250669, -2.143563502))
            ThreePointArc((-5.9203250669, -2.143563502), (-6.0805751961, -1.6375393261), (-6.1971163534, -1.1196988784))
            Line((-6.1971163534, -1.1196988784), (-32.1004668275, -1.1196988784))
        make_face()
        with BuildLine():
            Line((-4.0932936082, 4.736317063), (-17.068298013, 27.2096839206))
            ThreePointArc((-17.068298013, 27.2096839206), (-22.7641004058, 22.6603051356), (-27.2874018766, 16.9437715679))
            Line((-27.2874018766, 16.9437715679), (-4.841590739, 3.9846764654))
            ThreePointArc((-4.841590739, 3.9846764654), (-4.4834860123, 4.3764692363), (-4.0932936082, 4.736317063))
        make_face()
        with BuildLine():
            Line((-1.1797904389, 6.1097150926), (-1.1797904389, 32.0983144517))
            ThreePointArc((-1.1797904389, 32.0983144517), (-8.3962320791, 31.0031769823), (-15.1790947887, 28.3070446624))
            Line((-15.1790947887, 28.3070446624), (-2.2036550625, 5.8329238061))
            ThreePointArc((-2.2036550625, 5.8329238061), (-1.6976308865, 5.9931739353), (-1.1797904389, 6.1097150926))
        make_face()
        with BuildLine():
            Line((-5.929762352, 2.0901678951), (-28.3761159001, 15.0495761584))
            ThreePointArc((-28.3761159001, 15.0495761584), (-31.0371069057, 8.2699269068), (-32.1023254894, 1.0650794777))
            Line((-32.1023254894, 1.0650794777), (-6.2019863781, 1.0650794777))
            ThreePointArc((-6.2019863781, 1.0650794777), (-6.087754973, 1.5834343336), (-5.929762352, 2.0901678951))
        make_face()
        with BuildLine():
            Line((2.0300763346, 5.8423610912), (15.0422027861, 28.3800252196))
            ThreePointArc((15.0422027861, 28.3800252196), (8.2368421689, 31.0459035495), (1.0049879172, 32.1042628853))
            Line((1.0049879172, 32.1042628853), (1.0049879172, 6.1145851173))
            ThreePointArc((1.0049879172, 6.1145851173), (1.5233427732, 6.0003537122), (2.0300763346, 5.8423610912))
        make_face()
        with BuildLine():
            Line((4.6762255025, 4.0058923474), (27.2339279439, 17.0295879242))
            ThreePointArc((27.2339279439, 17.0295879242), (22.6735299258, 22.750928263), (16.9366820084, 27.2918027743))
            Line((16.9366820084, 27.2918027743), (3.924584905, 4.7541894782))
            ThreePointArc((3.924584905, 4.7541894782), (4.3163776758, 4.3960847515), (4.6762255025, 4.0058923474))
        make_face()
        with BuildLine():
            Line((6.0496235322, 1.092389178), (32.1014077885, 1.092389178))
            ThreePointArc((32.1014077885, 1.092389178), (31.0205100366, 8.3319657461), (28.3285982753, 15.1388313907))
            Line((28.3285982753, 15.1388313907), (5.7728322456, 2.1162538017))
            ThreePointArc((5.7728322456, 2.1162538017), (5.9330823748, 1.6102296257), (6.0496235322, 1.092389178))
        make_face()
        with BuildLine():
            ThreePointArc((28.330323496, -15.135602622), (31.0209847921, -8.3301979959), (32.1014077885, -1.092389178))
            Line((32.1014077885, -1.092389178), (6.0544935568, -1.092389178))
            ThreePointArc((6.0544935568, -1.092389178), (5.9402621517, -1.610744034), (5.7822695307, -2.1174775954))
            Line((5.7822695307, -2.1174775954), (28.330323496, -15.135602622))
        make_face()
    extrude(amount=-F5_DEPTH, mode=Mode.SUBTRACT)


solid = f1.part
